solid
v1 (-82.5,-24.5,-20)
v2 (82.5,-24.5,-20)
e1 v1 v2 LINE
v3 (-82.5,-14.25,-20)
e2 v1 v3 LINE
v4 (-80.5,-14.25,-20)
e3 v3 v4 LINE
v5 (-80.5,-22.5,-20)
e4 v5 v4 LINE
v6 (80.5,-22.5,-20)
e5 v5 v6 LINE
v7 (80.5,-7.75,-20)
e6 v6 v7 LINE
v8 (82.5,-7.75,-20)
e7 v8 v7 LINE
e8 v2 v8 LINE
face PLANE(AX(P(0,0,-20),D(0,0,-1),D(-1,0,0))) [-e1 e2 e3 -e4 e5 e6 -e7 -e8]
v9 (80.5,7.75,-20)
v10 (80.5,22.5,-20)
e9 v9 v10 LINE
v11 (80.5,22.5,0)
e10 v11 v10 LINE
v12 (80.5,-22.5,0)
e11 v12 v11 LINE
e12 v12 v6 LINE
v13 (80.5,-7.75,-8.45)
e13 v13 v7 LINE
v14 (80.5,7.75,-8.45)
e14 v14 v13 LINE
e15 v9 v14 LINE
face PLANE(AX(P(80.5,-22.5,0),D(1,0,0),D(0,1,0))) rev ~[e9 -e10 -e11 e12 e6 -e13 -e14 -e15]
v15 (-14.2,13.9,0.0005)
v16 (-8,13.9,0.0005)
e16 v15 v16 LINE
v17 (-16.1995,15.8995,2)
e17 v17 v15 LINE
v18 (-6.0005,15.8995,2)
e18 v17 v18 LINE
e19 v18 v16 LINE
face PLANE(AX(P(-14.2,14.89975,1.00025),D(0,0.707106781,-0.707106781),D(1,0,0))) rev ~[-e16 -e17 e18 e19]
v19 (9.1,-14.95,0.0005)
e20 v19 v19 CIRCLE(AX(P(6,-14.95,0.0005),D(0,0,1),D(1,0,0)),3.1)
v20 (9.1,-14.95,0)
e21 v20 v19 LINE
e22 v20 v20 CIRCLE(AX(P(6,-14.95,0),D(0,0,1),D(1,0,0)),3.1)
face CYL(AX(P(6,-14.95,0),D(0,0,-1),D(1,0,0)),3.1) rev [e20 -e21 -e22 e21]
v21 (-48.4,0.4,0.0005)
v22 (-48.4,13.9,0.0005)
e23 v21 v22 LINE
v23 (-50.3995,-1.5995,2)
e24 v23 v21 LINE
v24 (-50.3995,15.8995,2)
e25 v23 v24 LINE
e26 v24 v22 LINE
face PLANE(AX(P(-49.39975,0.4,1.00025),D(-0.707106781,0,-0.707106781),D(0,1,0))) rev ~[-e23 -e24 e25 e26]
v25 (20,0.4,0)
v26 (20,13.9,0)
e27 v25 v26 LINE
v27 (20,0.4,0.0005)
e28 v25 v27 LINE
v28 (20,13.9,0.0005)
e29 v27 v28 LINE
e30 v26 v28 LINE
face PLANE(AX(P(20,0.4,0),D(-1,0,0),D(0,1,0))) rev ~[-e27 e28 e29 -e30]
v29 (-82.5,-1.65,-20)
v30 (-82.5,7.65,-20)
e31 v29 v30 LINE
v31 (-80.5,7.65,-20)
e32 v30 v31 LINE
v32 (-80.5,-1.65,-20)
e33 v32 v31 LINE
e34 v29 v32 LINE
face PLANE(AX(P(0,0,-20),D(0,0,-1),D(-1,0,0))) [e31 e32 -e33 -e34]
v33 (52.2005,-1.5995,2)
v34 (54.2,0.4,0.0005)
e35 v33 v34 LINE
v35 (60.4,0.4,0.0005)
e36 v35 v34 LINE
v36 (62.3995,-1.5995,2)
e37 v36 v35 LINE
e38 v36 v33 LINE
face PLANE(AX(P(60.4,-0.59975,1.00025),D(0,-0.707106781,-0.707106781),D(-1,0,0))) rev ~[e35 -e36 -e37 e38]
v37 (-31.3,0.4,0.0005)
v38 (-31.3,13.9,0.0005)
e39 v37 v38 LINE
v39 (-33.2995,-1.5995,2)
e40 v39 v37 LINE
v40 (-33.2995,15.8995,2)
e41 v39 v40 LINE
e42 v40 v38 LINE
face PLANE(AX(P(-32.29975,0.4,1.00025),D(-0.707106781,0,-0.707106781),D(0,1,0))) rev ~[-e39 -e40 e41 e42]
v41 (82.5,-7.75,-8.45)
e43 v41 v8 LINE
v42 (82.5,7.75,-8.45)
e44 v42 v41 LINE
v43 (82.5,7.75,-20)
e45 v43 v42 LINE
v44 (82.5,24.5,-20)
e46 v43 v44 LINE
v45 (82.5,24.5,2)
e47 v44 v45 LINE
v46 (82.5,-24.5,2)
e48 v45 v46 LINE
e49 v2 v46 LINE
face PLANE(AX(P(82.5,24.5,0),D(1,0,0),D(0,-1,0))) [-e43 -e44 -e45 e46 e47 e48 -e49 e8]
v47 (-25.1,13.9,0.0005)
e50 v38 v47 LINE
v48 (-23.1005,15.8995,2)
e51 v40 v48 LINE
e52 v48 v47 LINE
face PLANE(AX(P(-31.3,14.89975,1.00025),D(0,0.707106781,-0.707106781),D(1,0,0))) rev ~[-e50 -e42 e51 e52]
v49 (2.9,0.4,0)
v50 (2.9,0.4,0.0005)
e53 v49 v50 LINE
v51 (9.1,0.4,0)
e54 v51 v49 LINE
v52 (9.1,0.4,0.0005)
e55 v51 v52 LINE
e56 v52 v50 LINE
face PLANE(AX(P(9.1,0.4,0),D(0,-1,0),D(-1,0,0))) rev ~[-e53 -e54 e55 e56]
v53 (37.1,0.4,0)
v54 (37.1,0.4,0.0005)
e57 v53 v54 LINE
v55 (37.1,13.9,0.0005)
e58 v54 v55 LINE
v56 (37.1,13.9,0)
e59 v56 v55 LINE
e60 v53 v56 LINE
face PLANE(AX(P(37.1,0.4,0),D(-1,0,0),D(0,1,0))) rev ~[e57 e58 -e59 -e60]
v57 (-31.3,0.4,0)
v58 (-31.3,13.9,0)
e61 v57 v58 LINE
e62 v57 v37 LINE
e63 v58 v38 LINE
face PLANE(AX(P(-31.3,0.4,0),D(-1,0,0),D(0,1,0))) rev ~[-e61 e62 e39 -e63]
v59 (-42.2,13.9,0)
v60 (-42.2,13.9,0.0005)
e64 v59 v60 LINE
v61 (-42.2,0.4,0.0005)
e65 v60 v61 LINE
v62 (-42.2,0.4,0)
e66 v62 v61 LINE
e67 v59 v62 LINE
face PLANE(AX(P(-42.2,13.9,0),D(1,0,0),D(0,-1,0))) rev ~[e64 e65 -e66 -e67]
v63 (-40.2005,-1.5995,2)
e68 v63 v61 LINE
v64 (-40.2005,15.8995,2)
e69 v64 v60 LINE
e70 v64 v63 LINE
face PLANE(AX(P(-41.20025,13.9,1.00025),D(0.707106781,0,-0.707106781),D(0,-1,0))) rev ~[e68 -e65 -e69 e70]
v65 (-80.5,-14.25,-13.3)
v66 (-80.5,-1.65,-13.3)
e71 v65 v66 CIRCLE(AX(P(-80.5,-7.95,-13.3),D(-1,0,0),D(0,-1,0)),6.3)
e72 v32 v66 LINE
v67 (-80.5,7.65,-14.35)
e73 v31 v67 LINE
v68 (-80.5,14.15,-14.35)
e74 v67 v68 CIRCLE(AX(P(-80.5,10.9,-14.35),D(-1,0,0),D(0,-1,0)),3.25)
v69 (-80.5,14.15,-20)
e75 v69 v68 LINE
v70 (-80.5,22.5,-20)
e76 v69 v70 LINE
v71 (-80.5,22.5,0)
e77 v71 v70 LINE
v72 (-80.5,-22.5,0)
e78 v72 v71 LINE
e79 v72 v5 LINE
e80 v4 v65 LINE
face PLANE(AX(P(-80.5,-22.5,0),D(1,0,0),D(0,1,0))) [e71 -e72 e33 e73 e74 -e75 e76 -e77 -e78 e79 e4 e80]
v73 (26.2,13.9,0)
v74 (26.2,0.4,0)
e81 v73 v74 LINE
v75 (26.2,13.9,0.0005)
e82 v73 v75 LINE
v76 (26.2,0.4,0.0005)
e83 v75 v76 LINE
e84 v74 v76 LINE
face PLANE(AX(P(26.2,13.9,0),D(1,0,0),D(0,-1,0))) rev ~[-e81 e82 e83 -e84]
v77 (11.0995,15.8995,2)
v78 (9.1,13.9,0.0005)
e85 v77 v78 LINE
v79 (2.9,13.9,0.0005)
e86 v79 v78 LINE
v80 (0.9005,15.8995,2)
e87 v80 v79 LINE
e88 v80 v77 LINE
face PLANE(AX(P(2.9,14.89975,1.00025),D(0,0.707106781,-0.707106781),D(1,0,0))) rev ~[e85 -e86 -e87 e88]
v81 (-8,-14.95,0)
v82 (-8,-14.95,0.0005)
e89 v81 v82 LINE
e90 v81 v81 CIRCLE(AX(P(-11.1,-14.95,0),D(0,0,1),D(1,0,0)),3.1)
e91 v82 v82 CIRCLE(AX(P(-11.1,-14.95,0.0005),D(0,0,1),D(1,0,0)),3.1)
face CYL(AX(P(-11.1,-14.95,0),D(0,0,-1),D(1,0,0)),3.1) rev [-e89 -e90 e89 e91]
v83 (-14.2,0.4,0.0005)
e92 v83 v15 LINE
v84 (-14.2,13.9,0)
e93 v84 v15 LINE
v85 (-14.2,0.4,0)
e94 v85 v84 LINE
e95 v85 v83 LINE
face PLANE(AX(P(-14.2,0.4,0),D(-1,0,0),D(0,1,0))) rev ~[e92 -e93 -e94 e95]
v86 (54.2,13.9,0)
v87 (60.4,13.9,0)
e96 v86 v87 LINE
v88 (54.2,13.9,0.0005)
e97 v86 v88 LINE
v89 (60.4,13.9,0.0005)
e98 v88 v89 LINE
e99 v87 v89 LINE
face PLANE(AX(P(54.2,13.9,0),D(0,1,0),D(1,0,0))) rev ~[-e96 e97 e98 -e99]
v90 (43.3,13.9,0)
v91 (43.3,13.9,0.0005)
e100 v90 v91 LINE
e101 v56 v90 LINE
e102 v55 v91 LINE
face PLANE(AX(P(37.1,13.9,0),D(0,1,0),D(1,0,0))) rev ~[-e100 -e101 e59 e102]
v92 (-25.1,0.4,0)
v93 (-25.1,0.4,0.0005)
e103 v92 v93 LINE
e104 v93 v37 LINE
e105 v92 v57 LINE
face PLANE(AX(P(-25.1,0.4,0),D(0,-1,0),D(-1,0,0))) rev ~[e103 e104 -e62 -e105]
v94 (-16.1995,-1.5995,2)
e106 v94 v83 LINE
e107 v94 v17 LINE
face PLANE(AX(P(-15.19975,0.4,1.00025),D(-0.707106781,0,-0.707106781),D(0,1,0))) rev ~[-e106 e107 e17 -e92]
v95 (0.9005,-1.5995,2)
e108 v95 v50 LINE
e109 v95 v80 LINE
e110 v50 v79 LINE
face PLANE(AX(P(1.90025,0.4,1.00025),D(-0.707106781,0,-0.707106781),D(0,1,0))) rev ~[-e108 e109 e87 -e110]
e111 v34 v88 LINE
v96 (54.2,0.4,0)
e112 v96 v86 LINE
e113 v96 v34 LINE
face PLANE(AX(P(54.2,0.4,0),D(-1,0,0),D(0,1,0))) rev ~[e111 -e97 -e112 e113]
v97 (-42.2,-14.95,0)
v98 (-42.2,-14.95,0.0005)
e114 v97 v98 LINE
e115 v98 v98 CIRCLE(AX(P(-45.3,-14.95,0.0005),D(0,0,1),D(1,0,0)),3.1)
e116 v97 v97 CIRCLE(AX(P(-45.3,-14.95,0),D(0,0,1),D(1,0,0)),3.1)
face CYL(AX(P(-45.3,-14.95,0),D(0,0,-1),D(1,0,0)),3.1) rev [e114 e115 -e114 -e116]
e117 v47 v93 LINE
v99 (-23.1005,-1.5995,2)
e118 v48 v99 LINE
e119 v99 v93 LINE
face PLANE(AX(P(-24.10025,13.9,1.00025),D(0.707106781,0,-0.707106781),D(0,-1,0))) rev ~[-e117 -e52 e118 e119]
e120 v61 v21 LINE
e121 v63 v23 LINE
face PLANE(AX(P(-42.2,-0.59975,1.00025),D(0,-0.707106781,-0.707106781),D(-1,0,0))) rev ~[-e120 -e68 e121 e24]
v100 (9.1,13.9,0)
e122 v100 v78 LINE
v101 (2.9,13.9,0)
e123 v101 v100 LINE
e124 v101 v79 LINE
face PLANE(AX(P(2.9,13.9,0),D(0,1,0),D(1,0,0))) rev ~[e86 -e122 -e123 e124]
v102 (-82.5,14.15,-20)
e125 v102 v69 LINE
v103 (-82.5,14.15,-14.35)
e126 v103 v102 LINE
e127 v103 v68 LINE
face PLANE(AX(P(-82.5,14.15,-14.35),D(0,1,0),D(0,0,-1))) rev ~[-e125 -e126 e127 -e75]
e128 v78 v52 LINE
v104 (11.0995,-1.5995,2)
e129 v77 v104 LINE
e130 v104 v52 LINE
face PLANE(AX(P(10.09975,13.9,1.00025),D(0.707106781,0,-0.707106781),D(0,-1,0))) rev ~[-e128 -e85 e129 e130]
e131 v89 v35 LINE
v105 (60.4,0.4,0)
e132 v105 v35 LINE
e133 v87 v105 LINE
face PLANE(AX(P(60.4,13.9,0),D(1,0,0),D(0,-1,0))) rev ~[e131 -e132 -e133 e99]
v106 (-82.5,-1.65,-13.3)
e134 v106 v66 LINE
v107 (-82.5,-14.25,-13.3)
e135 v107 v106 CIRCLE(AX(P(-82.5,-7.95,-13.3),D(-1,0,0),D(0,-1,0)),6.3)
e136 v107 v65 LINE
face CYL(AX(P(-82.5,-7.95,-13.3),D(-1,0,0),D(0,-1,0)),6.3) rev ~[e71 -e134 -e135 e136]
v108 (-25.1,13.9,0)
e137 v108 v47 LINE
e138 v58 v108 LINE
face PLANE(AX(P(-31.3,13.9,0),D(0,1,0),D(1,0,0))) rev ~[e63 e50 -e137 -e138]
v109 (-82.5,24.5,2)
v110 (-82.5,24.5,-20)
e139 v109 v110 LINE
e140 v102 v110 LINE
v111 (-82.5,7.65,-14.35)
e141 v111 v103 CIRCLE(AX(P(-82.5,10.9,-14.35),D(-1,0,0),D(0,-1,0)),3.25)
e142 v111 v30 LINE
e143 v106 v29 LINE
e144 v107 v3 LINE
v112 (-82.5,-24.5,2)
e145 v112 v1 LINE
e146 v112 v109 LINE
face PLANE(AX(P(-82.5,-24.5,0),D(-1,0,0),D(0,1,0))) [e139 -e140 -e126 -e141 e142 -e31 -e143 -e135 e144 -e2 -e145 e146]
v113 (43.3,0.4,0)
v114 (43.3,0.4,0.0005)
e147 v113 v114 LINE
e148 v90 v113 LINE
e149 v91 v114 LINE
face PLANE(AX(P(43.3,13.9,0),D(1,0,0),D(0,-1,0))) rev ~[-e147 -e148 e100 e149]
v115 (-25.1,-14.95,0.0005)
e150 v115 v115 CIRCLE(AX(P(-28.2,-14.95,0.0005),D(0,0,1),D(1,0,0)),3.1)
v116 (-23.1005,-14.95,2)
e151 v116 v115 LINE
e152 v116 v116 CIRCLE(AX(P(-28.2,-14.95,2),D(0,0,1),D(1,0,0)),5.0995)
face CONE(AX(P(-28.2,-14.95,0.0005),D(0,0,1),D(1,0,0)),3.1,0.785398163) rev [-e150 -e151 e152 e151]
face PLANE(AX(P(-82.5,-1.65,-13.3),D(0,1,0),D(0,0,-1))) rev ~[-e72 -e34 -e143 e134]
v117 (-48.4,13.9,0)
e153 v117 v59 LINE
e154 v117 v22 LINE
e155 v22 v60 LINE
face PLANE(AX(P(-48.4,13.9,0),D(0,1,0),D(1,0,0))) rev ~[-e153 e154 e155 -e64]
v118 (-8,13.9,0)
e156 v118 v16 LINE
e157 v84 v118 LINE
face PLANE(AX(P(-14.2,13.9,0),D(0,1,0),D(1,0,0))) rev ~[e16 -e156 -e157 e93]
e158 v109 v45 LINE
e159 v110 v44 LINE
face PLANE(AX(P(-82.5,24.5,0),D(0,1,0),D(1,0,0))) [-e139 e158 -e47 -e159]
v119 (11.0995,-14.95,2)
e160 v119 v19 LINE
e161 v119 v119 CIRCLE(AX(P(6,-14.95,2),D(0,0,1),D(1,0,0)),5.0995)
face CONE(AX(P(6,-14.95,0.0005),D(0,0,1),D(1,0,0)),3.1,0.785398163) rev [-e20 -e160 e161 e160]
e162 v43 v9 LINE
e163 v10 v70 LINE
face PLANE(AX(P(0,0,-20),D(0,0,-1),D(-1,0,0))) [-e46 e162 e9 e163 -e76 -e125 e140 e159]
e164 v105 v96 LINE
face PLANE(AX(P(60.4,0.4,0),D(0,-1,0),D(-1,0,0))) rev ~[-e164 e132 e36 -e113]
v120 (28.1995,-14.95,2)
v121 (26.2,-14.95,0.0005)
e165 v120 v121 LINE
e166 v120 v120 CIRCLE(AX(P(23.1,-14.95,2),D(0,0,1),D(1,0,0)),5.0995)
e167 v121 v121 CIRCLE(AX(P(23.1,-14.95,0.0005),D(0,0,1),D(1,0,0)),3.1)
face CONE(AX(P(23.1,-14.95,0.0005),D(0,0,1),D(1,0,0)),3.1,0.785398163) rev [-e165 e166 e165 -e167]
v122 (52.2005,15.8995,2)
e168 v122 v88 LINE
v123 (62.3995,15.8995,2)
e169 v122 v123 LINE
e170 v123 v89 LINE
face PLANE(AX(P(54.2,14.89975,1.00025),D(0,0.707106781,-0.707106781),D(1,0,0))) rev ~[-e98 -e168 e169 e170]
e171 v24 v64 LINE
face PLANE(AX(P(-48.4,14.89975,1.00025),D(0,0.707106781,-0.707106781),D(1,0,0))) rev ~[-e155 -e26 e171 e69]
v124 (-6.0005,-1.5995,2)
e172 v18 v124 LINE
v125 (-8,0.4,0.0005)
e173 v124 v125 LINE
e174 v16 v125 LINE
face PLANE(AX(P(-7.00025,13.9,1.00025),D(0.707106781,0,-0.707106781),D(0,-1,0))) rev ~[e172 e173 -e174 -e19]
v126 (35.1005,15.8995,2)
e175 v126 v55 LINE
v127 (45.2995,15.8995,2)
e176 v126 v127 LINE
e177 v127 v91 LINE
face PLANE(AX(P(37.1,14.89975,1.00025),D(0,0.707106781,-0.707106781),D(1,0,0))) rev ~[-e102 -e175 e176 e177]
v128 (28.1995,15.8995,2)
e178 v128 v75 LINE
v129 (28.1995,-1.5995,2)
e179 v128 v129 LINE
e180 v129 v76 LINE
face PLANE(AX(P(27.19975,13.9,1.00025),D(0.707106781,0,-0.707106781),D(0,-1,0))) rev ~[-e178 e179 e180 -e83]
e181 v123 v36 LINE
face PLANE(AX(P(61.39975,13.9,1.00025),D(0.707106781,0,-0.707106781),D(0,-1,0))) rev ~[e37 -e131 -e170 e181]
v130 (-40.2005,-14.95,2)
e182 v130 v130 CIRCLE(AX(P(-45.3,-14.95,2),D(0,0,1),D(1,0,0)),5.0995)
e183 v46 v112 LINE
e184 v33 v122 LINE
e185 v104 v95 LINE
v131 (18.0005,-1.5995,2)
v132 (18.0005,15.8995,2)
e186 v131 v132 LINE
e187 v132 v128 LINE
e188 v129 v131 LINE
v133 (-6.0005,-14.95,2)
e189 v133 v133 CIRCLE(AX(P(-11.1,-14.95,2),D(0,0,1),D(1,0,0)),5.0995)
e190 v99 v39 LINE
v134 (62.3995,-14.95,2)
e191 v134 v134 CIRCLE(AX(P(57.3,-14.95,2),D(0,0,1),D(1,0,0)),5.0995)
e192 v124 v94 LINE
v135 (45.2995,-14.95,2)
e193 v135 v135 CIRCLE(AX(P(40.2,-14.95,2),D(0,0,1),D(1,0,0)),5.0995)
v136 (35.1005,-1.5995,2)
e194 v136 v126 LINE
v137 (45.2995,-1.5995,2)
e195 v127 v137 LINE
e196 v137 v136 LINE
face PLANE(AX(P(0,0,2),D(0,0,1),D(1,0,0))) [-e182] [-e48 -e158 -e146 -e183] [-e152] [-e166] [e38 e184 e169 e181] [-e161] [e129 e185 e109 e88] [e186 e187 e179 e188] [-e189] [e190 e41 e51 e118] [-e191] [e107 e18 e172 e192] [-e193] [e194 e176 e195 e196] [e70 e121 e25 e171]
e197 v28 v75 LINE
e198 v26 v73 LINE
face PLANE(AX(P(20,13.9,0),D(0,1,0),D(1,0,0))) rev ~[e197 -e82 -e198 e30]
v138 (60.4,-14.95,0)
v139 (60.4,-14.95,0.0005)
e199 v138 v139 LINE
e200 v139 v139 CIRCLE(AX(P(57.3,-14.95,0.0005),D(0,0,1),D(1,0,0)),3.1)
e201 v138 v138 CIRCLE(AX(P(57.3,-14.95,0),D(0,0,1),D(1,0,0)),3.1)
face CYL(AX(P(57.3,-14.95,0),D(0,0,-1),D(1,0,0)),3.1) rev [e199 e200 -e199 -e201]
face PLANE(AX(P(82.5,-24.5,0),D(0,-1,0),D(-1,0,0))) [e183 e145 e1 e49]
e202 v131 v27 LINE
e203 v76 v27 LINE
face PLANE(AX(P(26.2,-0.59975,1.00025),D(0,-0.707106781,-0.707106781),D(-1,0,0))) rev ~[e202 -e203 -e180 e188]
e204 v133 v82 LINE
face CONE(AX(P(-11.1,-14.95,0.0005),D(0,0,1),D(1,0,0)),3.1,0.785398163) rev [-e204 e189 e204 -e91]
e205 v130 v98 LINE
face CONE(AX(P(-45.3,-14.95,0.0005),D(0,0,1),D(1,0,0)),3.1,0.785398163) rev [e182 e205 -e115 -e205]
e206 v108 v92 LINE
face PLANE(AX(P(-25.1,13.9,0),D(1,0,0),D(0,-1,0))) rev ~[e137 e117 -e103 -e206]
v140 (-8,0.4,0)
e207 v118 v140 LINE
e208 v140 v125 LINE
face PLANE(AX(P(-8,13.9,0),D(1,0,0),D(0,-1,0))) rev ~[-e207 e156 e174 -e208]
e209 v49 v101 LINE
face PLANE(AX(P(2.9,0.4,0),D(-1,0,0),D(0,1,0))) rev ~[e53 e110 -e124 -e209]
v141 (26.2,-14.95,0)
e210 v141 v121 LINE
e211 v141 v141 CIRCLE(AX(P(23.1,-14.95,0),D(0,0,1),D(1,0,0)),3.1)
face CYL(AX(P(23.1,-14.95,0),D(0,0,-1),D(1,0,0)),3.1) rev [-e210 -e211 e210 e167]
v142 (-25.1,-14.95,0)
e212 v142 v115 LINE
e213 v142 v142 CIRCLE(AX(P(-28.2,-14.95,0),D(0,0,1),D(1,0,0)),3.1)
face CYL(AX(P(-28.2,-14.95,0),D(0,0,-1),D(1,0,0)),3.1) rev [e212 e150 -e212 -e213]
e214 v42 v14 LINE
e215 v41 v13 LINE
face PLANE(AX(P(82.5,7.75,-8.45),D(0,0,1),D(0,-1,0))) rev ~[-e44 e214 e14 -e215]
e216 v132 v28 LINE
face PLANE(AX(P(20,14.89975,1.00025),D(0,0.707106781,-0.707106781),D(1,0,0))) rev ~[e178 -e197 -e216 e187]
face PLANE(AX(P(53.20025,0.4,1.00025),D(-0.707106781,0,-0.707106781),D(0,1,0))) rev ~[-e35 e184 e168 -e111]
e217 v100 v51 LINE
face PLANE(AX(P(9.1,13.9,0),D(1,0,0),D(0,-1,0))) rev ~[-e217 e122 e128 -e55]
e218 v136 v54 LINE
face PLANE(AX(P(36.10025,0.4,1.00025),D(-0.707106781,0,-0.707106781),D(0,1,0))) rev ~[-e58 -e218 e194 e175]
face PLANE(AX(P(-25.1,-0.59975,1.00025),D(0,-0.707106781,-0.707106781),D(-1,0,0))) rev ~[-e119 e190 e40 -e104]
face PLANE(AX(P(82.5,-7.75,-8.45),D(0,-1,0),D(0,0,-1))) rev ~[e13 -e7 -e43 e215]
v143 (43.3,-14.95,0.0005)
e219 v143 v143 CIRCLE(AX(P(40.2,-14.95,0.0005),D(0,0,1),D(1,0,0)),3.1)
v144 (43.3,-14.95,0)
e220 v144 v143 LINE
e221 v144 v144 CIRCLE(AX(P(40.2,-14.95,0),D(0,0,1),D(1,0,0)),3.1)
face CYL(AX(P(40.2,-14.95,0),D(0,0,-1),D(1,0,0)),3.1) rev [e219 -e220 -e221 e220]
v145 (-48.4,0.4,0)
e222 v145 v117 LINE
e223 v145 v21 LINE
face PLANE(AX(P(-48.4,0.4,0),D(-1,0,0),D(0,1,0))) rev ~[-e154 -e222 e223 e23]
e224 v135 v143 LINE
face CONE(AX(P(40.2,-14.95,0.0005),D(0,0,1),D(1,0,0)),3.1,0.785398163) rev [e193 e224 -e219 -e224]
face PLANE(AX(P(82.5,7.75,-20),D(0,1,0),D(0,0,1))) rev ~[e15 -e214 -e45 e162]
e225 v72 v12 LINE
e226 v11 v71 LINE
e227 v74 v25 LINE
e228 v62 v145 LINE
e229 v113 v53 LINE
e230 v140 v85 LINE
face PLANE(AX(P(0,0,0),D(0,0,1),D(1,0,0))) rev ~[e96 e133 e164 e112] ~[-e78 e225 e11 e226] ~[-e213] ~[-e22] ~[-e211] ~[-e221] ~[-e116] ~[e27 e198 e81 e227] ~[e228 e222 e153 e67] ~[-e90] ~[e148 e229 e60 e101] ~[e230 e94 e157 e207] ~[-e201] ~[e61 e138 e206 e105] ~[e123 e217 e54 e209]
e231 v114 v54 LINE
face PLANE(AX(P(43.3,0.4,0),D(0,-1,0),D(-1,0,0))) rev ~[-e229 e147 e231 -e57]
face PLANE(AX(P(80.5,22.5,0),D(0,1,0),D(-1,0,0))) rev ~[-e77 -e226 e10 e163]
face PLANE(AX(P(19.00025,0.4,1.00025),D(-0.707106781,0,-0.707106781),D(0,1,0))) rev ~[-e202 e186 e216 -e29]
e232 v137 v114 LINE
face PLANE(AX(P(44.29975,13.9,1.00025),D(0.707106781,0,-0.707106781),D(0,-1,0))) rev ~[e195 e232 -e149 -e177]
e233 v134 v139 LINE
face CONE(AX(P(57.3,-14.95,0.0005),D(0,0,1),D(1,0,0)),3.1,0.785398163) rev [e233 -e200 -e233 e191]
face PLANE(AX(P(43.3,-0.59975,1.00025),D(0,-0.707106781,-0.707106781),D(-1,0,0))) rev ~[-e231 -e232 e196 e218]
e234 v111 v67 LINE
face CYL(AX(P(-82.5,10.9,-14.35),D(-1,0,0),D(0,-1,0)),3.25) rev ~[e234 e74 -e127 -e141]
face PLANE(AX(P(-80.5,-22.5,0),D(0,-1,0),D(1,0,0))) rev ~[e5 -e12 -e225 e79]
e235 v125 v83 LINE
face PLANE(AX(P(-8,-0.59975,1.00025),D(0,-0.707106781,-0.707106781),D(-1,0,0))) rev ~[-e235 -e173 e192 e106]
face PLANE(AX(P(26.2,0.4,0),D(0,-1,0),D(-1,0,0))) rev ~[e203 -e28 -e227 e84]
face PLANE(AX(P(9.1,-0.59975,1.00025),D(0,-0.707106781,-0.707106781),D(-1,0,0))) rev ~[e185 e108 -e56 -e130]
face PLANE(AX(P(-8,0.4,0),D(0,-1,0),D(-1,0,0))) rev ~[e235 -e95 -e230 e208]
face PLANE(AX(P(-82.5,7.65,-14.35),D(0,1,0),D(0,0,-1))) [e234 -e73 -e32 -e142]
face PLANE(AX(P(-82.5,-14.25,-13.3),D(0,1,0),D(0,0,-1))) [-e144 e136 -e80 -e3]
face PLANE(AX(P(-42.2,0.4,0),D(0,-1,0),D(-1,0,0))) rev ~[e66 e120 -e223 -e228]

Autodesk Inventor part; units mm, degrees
ref_plane "YZ Plane" through (0, 0, 0) normal (1, 0, 0) x (0, 1, 0)
ref_plane "XZ Plane" through (0, 0, 0) normal (0, 1, 0) x (-1, 0, 0)
ref_plane "XY Plane" through (0, 0, 0) normal (0, 0, 1) x (1, 0, 0)
sketch "Sketch1" plane through (0, 0, 0) normal (0, 0, 1) x (1, 0, 0)
  line L0 (82.5, -24.5) -> (-82.5, -24.5)
  line L1 (-82.5, -24.5) -> (-82.5, 24.5)
  line L2 (-82.5, 24.5) -> (82.5, 24.5)
  line L3 (82.5, 24.5) -> (82.5, -24.5)
  circle A0 centre (-28.2, -14.95) radius 3.1 projected
  circle A1 centre (6, -14.95) radius 3.1 projected
  circle A2 centre (40.2, -14.95) radius 3.1 projected
  circle A3 centre (57.3, -14.95) radius 3.1 projected
  circle A4 centre (23.1, -14.95) radius 3.1 projected
  circle A5 centre (-11.1, -14.95) radius 3.1 projected
  circle A6 centre (-45.3, -14.95) radius 3.1 projected
  line L4 (-25.1, 0.4) -> (-31.3, 0.4) projected
  line L5 (-31.3, 0.4) -> (-31.3, 13.9) projected
  line L6 (-31.3, 13.9) -> (-25.1, 13.9) projected
  line L7 (-25.1, 13.9) -> (-25.1, 0.4) projected
  line L8 (9.1, 0.4) -> (2.9, 0.4) projected
  line L9 (2.9, 0.4) -> (2.9, 13.9) projected
  line L10 (2.9, 13.9) -> (9.1, 13.9) projected
  line L11 (9.1, 13.9) -> (9.1, 0.4) projected
  line L12 (43.3, 0.4) -> (37.1, 0.4) projected
  line L13 (37.1, 0.4) -> (37.1, 13.9) projected
  line L14 (37.1, 13.9) -> (43.3, 13.9) projected
  line L15 (43.3, 13.9) -> (43.3, 0.4) projected
  line L16 (54.2, 0.4) -> (54.2, 13.9) projected
  line L17 (54.2, 13.9) -> (60.4, 13.9) projected
  line L18 (60.4, 13.9) -> (60.4, 0.4) projected
  line L19 (60.4, 0.4) -> (54.2, 0.4) projected
  line L20 (26.2, 0.4) -> (20, 0.4) projected
  line L21 (20, 0.4) -> (20, 13.9) projected
  line L22 (20, 13.9) -> (26.2, 13.9) projected
  line L23 (26.2, 13.9) -> (26.2, 0.4) projected
  line L24 (-8, 0.4) -> (-14.2, 0.4) projected
  line L25 (-14.2, 0.4) -> (-14.2, 13.9) projected
  line L26 (-14.2, 13.9) -> (-8, 13.9) projected
  line L27 (-8, 13.9) -> (-8, 0.4) projected
  line L28 (-42.2, 0.4) -> (-48.4, 0.4) projected
  line L29 (-48.4, 0.4) -> (-48.4, 13.9) projected
  line L30 (-48.4, 13.9) -> (-42.2, 13.9) projected
  line L31 (-42.2, 13.9) -> (-42.2, 0.4) projected
  arc A7 (73.05, -22.25) -> (80.25, -15.05) centre (73.05, -15.05) ccw projected
  line L32 (80.25, -15.05) -> (80.25, 15.05) projected
  arc A8 (80.25, 15.05) -> (73.05, 22.25) centre (73.05, 15.05) ccw projected
  line L33 (73.05, 22.25) -> (-73.05, 22.25) projected
  arc A9 (-73.05, 22.25) -> (-80.25, 15.05) centre (-73.05, 15.05) ccw projected
  line L34 (-80.25, 15.05) -> (-80.25, -15.05) projected
  arc A10 (-80.25, -15.05) -> (-73.05, -22.25) centre (-73.05, -15.05) ccw projected
  line L35 (-73.05, -22.25) -> (73.05, -22.25) projected
  line L36 (-73.05, -22.25) -> (73.05, -22.25) projected
  point P0 (0, 0)
  dimension "d0" = 2.25
  dimension "d1" = 2.25
  dimension "d2" = 2.25
  dimension "d3" = 2.25
extrude "Extrusion1" add sketch "Sketch1" along normal blind 2 contours L0 L1 L2 L3 | L35 A10 L34 A9 L33 A8 L32 A7
sketch "Sketch2" plane through (0, 0, 0) normal (0, 0, -1) x (-1, 0, 0)
  line L0 (-82.5, -24.5) -> (-82.5, 24.5) projected
  line L1 (-82.5, -24.5) -> (-80.5, -24.5)
  line L2 (-80.5, -24.5) -> (-80.5, 24.5)
  line L3 (-80.5, 24.5) -> (-82.5, 24.5)
  line L4 (-82.5, 24.5) -> (-82.5, -24.5)
  line L5 (82.5, 24.5) -> (-82.5, 24.5) projected
  line L6 (82.5, 24.5) -> (82.5, -24.5) projected
  line L7 (-82.5, -24.5) -> (82.5, -24.5)
  line L8 (82.5, -24.5) -> (82.5, -22.5)
  line L9 (82.5, -22.5) -> (-82.5, -22.5)
  line L10 (-82.5, -22.5) -> (-82.5, -24.5)
  line L11 (82.5, -24.5) -> (-82.5, -24.5) projected
  line L12 (-82.5, 24.5) -> (82.5, 24.5) projected
  line L13 (82.5, -24.5) -> (80.5, -24.5)
  line L14 (80.5, -24.5) -> (80.5, 24.5)
  line L15 (80.5, 24.5) -> (82.5, 24.5)
  line L16 (82.5, 24.5) -> (82.5, -24.5)
  line L17 (82.5, 24.5) -> (-82.5, 24.5)
  line L18 (-82.5, 24.5) -> (-82.5, 22.5)
  line L19 (-82.5, 22.5) -> (82.5, 22.5)
  line L20 (82.5, 22.5) -> (82.5, 24.5)
  point P0 (0, 0)
  dimension "d6" = 2
  dimension "d7" = 2
  dimension "d8" = 2
  dimension "d9" = 2
extrude "Extrusion2" add sketch "Sketch2" along normal blind 20 contours L0 L9 L2 L1 | L0 L19 L2 L9 | L2 L9 L14 L7 | L0 L3 L2 L19 | L14 L9 L6 L7 | L2 L5 L14 L19 | L14 L19 L6 L9 | L14 L5 L6 L19
sketch "Sketch3" plane through (-82.5, -24.5, 2) normal (-1, 0, 0) x (0, 0, 1)
  circle A0 centre (-15.3, 16.55) radius 5.3 construction
  circle A1 centre (-16.35, 35.4) radius 2.25 construction
  arc A2 (-16.35, 32.15) -> (-16.35, 38.65) centre (-16.35, 35.4) ccw
  arc A3 (-15.3, 10.25) -> (-15.3, 22.85) centre (-15.3, 16.55) ccw
  line L0 (-16.35, 38.65) -> (-22, 38.65)
  line L1 (-22, 2) -> (-22, 47) projected
  line L2 (-16.35, 32.15) -> (-22, 32.15)
  line L3 (-15.3, 22.85) -> (-22, 22.85)
  line L4 (-15.3, 10.25) -> (-22, 10.25)
  line L5 (-22, 10.25) -> (-22, 22.85)
  line L6 (-22, 32.15) -> (-22, 38.65)
  arc A4 (-15.3, 22.85) -> (-15.3, 10.25) centre (-15.3, 16.55) ccw construction
  arc A5 (-16.35, 38.65) -> (-16.35, 32.15) centre (-16.35, 35.4) ccw construction
  point P0 (-2, 24.5)
  dimension "d12" = 1
  dimension "d13" = 1
extrude "Extrusion3" cut sketch "Sketch3" against normal blind 20
sketch "Sketch4" plane through (82.5, -24.5, 2) normal (1, 0, 0) x (0, 0, -1)
  line L0 (18.25, 17.75) -> (11.45, 17.75) projected
  line L1 (11.45, 17.75) -> (11.45, 31.25) projected
  line L2 (11.45, 31.25) -> (18.25, 31.25) projected
  line L3 (18.25, 31.25) -> (18.25, 17.75) projected
  line L4 (25.6, 9.45) -> (2, 9.45) projected
  line L5 (25.6, 39.55) -> (25.6, 9.45) projected
  line L6 (2, 39.55) -> (25.6, 39.55) projected
  line L7 (2, 9.45) -> (2, 39.55) projected
  line L8 (10.45, 16.75) -> (22, 16.75)
  line L9 (22, 16.75) -> (22, 32.25)
  line L10 (22, 32.25) -> (10.45, 32.25)
  line L11 (10.45, 32.25) -> (10.45, 16.75)
  line L12 (22, 49) -> (22, 0) projected
  point P0 (2, 24.5)
  dimension "d16" = 1
  dimension "d17" = 1
  dimension "d19" = 1
extrude "Extrusion4" cut sketch "Sketch4" against normal blind 20 contours L0 L1 L2 L3 | L8 L11 L10 L9
chamfer "Chamfer1" distance 2 angle 45 35 edges at (-45.3, 13.9, 2) (-48.4, 7.15, 2) (-45.3, 0.4, 2) (-42.2, 7.15, 2) (-31.3, 7.15, 2) (-28.2, 13.9, 2) (-25.1, 7.15, 2) (-28.2, 0.4, 2) (-14.2, 7.15, 2) (-11.1, 13.9, 2) (-8, 7.15, 2) (-11.1, 0.4, 2) (2.9, 7.15, 2) (6, 13.9, 2) (9.1, 7.15, 2) (6, 0.4, 2) (26.2, 7.15, 2) (23.1, 13.9, 2) (20, 7.15, 2) (23.1, 0.4, 2) (40.2, 0.4, 2) (37.1, 7.15, 2) (40.2, 13.9, 2) (43.3, 7.15, 2) (54.2, 7.15, 2) (57.3, 13.9, 2) (60.4, 7.15, 2) (57.3, 0.4, 2) (54.2, -14.95, 2) (37.1, -14.95, 2) (20, -14.95, 2) (2.9, -14.95, 2) (-14.2, -14.95, 2) (-31.3, -14.95, 2) (-48.4, -14.95, 2)
equation "\"d1\" = d0"
equation "\"d2\" = d0"
equation "\"d3\" = d0"
equation "\"d17\" = d16"
equation "\"d19\" = d16"
properties part number "cover"
